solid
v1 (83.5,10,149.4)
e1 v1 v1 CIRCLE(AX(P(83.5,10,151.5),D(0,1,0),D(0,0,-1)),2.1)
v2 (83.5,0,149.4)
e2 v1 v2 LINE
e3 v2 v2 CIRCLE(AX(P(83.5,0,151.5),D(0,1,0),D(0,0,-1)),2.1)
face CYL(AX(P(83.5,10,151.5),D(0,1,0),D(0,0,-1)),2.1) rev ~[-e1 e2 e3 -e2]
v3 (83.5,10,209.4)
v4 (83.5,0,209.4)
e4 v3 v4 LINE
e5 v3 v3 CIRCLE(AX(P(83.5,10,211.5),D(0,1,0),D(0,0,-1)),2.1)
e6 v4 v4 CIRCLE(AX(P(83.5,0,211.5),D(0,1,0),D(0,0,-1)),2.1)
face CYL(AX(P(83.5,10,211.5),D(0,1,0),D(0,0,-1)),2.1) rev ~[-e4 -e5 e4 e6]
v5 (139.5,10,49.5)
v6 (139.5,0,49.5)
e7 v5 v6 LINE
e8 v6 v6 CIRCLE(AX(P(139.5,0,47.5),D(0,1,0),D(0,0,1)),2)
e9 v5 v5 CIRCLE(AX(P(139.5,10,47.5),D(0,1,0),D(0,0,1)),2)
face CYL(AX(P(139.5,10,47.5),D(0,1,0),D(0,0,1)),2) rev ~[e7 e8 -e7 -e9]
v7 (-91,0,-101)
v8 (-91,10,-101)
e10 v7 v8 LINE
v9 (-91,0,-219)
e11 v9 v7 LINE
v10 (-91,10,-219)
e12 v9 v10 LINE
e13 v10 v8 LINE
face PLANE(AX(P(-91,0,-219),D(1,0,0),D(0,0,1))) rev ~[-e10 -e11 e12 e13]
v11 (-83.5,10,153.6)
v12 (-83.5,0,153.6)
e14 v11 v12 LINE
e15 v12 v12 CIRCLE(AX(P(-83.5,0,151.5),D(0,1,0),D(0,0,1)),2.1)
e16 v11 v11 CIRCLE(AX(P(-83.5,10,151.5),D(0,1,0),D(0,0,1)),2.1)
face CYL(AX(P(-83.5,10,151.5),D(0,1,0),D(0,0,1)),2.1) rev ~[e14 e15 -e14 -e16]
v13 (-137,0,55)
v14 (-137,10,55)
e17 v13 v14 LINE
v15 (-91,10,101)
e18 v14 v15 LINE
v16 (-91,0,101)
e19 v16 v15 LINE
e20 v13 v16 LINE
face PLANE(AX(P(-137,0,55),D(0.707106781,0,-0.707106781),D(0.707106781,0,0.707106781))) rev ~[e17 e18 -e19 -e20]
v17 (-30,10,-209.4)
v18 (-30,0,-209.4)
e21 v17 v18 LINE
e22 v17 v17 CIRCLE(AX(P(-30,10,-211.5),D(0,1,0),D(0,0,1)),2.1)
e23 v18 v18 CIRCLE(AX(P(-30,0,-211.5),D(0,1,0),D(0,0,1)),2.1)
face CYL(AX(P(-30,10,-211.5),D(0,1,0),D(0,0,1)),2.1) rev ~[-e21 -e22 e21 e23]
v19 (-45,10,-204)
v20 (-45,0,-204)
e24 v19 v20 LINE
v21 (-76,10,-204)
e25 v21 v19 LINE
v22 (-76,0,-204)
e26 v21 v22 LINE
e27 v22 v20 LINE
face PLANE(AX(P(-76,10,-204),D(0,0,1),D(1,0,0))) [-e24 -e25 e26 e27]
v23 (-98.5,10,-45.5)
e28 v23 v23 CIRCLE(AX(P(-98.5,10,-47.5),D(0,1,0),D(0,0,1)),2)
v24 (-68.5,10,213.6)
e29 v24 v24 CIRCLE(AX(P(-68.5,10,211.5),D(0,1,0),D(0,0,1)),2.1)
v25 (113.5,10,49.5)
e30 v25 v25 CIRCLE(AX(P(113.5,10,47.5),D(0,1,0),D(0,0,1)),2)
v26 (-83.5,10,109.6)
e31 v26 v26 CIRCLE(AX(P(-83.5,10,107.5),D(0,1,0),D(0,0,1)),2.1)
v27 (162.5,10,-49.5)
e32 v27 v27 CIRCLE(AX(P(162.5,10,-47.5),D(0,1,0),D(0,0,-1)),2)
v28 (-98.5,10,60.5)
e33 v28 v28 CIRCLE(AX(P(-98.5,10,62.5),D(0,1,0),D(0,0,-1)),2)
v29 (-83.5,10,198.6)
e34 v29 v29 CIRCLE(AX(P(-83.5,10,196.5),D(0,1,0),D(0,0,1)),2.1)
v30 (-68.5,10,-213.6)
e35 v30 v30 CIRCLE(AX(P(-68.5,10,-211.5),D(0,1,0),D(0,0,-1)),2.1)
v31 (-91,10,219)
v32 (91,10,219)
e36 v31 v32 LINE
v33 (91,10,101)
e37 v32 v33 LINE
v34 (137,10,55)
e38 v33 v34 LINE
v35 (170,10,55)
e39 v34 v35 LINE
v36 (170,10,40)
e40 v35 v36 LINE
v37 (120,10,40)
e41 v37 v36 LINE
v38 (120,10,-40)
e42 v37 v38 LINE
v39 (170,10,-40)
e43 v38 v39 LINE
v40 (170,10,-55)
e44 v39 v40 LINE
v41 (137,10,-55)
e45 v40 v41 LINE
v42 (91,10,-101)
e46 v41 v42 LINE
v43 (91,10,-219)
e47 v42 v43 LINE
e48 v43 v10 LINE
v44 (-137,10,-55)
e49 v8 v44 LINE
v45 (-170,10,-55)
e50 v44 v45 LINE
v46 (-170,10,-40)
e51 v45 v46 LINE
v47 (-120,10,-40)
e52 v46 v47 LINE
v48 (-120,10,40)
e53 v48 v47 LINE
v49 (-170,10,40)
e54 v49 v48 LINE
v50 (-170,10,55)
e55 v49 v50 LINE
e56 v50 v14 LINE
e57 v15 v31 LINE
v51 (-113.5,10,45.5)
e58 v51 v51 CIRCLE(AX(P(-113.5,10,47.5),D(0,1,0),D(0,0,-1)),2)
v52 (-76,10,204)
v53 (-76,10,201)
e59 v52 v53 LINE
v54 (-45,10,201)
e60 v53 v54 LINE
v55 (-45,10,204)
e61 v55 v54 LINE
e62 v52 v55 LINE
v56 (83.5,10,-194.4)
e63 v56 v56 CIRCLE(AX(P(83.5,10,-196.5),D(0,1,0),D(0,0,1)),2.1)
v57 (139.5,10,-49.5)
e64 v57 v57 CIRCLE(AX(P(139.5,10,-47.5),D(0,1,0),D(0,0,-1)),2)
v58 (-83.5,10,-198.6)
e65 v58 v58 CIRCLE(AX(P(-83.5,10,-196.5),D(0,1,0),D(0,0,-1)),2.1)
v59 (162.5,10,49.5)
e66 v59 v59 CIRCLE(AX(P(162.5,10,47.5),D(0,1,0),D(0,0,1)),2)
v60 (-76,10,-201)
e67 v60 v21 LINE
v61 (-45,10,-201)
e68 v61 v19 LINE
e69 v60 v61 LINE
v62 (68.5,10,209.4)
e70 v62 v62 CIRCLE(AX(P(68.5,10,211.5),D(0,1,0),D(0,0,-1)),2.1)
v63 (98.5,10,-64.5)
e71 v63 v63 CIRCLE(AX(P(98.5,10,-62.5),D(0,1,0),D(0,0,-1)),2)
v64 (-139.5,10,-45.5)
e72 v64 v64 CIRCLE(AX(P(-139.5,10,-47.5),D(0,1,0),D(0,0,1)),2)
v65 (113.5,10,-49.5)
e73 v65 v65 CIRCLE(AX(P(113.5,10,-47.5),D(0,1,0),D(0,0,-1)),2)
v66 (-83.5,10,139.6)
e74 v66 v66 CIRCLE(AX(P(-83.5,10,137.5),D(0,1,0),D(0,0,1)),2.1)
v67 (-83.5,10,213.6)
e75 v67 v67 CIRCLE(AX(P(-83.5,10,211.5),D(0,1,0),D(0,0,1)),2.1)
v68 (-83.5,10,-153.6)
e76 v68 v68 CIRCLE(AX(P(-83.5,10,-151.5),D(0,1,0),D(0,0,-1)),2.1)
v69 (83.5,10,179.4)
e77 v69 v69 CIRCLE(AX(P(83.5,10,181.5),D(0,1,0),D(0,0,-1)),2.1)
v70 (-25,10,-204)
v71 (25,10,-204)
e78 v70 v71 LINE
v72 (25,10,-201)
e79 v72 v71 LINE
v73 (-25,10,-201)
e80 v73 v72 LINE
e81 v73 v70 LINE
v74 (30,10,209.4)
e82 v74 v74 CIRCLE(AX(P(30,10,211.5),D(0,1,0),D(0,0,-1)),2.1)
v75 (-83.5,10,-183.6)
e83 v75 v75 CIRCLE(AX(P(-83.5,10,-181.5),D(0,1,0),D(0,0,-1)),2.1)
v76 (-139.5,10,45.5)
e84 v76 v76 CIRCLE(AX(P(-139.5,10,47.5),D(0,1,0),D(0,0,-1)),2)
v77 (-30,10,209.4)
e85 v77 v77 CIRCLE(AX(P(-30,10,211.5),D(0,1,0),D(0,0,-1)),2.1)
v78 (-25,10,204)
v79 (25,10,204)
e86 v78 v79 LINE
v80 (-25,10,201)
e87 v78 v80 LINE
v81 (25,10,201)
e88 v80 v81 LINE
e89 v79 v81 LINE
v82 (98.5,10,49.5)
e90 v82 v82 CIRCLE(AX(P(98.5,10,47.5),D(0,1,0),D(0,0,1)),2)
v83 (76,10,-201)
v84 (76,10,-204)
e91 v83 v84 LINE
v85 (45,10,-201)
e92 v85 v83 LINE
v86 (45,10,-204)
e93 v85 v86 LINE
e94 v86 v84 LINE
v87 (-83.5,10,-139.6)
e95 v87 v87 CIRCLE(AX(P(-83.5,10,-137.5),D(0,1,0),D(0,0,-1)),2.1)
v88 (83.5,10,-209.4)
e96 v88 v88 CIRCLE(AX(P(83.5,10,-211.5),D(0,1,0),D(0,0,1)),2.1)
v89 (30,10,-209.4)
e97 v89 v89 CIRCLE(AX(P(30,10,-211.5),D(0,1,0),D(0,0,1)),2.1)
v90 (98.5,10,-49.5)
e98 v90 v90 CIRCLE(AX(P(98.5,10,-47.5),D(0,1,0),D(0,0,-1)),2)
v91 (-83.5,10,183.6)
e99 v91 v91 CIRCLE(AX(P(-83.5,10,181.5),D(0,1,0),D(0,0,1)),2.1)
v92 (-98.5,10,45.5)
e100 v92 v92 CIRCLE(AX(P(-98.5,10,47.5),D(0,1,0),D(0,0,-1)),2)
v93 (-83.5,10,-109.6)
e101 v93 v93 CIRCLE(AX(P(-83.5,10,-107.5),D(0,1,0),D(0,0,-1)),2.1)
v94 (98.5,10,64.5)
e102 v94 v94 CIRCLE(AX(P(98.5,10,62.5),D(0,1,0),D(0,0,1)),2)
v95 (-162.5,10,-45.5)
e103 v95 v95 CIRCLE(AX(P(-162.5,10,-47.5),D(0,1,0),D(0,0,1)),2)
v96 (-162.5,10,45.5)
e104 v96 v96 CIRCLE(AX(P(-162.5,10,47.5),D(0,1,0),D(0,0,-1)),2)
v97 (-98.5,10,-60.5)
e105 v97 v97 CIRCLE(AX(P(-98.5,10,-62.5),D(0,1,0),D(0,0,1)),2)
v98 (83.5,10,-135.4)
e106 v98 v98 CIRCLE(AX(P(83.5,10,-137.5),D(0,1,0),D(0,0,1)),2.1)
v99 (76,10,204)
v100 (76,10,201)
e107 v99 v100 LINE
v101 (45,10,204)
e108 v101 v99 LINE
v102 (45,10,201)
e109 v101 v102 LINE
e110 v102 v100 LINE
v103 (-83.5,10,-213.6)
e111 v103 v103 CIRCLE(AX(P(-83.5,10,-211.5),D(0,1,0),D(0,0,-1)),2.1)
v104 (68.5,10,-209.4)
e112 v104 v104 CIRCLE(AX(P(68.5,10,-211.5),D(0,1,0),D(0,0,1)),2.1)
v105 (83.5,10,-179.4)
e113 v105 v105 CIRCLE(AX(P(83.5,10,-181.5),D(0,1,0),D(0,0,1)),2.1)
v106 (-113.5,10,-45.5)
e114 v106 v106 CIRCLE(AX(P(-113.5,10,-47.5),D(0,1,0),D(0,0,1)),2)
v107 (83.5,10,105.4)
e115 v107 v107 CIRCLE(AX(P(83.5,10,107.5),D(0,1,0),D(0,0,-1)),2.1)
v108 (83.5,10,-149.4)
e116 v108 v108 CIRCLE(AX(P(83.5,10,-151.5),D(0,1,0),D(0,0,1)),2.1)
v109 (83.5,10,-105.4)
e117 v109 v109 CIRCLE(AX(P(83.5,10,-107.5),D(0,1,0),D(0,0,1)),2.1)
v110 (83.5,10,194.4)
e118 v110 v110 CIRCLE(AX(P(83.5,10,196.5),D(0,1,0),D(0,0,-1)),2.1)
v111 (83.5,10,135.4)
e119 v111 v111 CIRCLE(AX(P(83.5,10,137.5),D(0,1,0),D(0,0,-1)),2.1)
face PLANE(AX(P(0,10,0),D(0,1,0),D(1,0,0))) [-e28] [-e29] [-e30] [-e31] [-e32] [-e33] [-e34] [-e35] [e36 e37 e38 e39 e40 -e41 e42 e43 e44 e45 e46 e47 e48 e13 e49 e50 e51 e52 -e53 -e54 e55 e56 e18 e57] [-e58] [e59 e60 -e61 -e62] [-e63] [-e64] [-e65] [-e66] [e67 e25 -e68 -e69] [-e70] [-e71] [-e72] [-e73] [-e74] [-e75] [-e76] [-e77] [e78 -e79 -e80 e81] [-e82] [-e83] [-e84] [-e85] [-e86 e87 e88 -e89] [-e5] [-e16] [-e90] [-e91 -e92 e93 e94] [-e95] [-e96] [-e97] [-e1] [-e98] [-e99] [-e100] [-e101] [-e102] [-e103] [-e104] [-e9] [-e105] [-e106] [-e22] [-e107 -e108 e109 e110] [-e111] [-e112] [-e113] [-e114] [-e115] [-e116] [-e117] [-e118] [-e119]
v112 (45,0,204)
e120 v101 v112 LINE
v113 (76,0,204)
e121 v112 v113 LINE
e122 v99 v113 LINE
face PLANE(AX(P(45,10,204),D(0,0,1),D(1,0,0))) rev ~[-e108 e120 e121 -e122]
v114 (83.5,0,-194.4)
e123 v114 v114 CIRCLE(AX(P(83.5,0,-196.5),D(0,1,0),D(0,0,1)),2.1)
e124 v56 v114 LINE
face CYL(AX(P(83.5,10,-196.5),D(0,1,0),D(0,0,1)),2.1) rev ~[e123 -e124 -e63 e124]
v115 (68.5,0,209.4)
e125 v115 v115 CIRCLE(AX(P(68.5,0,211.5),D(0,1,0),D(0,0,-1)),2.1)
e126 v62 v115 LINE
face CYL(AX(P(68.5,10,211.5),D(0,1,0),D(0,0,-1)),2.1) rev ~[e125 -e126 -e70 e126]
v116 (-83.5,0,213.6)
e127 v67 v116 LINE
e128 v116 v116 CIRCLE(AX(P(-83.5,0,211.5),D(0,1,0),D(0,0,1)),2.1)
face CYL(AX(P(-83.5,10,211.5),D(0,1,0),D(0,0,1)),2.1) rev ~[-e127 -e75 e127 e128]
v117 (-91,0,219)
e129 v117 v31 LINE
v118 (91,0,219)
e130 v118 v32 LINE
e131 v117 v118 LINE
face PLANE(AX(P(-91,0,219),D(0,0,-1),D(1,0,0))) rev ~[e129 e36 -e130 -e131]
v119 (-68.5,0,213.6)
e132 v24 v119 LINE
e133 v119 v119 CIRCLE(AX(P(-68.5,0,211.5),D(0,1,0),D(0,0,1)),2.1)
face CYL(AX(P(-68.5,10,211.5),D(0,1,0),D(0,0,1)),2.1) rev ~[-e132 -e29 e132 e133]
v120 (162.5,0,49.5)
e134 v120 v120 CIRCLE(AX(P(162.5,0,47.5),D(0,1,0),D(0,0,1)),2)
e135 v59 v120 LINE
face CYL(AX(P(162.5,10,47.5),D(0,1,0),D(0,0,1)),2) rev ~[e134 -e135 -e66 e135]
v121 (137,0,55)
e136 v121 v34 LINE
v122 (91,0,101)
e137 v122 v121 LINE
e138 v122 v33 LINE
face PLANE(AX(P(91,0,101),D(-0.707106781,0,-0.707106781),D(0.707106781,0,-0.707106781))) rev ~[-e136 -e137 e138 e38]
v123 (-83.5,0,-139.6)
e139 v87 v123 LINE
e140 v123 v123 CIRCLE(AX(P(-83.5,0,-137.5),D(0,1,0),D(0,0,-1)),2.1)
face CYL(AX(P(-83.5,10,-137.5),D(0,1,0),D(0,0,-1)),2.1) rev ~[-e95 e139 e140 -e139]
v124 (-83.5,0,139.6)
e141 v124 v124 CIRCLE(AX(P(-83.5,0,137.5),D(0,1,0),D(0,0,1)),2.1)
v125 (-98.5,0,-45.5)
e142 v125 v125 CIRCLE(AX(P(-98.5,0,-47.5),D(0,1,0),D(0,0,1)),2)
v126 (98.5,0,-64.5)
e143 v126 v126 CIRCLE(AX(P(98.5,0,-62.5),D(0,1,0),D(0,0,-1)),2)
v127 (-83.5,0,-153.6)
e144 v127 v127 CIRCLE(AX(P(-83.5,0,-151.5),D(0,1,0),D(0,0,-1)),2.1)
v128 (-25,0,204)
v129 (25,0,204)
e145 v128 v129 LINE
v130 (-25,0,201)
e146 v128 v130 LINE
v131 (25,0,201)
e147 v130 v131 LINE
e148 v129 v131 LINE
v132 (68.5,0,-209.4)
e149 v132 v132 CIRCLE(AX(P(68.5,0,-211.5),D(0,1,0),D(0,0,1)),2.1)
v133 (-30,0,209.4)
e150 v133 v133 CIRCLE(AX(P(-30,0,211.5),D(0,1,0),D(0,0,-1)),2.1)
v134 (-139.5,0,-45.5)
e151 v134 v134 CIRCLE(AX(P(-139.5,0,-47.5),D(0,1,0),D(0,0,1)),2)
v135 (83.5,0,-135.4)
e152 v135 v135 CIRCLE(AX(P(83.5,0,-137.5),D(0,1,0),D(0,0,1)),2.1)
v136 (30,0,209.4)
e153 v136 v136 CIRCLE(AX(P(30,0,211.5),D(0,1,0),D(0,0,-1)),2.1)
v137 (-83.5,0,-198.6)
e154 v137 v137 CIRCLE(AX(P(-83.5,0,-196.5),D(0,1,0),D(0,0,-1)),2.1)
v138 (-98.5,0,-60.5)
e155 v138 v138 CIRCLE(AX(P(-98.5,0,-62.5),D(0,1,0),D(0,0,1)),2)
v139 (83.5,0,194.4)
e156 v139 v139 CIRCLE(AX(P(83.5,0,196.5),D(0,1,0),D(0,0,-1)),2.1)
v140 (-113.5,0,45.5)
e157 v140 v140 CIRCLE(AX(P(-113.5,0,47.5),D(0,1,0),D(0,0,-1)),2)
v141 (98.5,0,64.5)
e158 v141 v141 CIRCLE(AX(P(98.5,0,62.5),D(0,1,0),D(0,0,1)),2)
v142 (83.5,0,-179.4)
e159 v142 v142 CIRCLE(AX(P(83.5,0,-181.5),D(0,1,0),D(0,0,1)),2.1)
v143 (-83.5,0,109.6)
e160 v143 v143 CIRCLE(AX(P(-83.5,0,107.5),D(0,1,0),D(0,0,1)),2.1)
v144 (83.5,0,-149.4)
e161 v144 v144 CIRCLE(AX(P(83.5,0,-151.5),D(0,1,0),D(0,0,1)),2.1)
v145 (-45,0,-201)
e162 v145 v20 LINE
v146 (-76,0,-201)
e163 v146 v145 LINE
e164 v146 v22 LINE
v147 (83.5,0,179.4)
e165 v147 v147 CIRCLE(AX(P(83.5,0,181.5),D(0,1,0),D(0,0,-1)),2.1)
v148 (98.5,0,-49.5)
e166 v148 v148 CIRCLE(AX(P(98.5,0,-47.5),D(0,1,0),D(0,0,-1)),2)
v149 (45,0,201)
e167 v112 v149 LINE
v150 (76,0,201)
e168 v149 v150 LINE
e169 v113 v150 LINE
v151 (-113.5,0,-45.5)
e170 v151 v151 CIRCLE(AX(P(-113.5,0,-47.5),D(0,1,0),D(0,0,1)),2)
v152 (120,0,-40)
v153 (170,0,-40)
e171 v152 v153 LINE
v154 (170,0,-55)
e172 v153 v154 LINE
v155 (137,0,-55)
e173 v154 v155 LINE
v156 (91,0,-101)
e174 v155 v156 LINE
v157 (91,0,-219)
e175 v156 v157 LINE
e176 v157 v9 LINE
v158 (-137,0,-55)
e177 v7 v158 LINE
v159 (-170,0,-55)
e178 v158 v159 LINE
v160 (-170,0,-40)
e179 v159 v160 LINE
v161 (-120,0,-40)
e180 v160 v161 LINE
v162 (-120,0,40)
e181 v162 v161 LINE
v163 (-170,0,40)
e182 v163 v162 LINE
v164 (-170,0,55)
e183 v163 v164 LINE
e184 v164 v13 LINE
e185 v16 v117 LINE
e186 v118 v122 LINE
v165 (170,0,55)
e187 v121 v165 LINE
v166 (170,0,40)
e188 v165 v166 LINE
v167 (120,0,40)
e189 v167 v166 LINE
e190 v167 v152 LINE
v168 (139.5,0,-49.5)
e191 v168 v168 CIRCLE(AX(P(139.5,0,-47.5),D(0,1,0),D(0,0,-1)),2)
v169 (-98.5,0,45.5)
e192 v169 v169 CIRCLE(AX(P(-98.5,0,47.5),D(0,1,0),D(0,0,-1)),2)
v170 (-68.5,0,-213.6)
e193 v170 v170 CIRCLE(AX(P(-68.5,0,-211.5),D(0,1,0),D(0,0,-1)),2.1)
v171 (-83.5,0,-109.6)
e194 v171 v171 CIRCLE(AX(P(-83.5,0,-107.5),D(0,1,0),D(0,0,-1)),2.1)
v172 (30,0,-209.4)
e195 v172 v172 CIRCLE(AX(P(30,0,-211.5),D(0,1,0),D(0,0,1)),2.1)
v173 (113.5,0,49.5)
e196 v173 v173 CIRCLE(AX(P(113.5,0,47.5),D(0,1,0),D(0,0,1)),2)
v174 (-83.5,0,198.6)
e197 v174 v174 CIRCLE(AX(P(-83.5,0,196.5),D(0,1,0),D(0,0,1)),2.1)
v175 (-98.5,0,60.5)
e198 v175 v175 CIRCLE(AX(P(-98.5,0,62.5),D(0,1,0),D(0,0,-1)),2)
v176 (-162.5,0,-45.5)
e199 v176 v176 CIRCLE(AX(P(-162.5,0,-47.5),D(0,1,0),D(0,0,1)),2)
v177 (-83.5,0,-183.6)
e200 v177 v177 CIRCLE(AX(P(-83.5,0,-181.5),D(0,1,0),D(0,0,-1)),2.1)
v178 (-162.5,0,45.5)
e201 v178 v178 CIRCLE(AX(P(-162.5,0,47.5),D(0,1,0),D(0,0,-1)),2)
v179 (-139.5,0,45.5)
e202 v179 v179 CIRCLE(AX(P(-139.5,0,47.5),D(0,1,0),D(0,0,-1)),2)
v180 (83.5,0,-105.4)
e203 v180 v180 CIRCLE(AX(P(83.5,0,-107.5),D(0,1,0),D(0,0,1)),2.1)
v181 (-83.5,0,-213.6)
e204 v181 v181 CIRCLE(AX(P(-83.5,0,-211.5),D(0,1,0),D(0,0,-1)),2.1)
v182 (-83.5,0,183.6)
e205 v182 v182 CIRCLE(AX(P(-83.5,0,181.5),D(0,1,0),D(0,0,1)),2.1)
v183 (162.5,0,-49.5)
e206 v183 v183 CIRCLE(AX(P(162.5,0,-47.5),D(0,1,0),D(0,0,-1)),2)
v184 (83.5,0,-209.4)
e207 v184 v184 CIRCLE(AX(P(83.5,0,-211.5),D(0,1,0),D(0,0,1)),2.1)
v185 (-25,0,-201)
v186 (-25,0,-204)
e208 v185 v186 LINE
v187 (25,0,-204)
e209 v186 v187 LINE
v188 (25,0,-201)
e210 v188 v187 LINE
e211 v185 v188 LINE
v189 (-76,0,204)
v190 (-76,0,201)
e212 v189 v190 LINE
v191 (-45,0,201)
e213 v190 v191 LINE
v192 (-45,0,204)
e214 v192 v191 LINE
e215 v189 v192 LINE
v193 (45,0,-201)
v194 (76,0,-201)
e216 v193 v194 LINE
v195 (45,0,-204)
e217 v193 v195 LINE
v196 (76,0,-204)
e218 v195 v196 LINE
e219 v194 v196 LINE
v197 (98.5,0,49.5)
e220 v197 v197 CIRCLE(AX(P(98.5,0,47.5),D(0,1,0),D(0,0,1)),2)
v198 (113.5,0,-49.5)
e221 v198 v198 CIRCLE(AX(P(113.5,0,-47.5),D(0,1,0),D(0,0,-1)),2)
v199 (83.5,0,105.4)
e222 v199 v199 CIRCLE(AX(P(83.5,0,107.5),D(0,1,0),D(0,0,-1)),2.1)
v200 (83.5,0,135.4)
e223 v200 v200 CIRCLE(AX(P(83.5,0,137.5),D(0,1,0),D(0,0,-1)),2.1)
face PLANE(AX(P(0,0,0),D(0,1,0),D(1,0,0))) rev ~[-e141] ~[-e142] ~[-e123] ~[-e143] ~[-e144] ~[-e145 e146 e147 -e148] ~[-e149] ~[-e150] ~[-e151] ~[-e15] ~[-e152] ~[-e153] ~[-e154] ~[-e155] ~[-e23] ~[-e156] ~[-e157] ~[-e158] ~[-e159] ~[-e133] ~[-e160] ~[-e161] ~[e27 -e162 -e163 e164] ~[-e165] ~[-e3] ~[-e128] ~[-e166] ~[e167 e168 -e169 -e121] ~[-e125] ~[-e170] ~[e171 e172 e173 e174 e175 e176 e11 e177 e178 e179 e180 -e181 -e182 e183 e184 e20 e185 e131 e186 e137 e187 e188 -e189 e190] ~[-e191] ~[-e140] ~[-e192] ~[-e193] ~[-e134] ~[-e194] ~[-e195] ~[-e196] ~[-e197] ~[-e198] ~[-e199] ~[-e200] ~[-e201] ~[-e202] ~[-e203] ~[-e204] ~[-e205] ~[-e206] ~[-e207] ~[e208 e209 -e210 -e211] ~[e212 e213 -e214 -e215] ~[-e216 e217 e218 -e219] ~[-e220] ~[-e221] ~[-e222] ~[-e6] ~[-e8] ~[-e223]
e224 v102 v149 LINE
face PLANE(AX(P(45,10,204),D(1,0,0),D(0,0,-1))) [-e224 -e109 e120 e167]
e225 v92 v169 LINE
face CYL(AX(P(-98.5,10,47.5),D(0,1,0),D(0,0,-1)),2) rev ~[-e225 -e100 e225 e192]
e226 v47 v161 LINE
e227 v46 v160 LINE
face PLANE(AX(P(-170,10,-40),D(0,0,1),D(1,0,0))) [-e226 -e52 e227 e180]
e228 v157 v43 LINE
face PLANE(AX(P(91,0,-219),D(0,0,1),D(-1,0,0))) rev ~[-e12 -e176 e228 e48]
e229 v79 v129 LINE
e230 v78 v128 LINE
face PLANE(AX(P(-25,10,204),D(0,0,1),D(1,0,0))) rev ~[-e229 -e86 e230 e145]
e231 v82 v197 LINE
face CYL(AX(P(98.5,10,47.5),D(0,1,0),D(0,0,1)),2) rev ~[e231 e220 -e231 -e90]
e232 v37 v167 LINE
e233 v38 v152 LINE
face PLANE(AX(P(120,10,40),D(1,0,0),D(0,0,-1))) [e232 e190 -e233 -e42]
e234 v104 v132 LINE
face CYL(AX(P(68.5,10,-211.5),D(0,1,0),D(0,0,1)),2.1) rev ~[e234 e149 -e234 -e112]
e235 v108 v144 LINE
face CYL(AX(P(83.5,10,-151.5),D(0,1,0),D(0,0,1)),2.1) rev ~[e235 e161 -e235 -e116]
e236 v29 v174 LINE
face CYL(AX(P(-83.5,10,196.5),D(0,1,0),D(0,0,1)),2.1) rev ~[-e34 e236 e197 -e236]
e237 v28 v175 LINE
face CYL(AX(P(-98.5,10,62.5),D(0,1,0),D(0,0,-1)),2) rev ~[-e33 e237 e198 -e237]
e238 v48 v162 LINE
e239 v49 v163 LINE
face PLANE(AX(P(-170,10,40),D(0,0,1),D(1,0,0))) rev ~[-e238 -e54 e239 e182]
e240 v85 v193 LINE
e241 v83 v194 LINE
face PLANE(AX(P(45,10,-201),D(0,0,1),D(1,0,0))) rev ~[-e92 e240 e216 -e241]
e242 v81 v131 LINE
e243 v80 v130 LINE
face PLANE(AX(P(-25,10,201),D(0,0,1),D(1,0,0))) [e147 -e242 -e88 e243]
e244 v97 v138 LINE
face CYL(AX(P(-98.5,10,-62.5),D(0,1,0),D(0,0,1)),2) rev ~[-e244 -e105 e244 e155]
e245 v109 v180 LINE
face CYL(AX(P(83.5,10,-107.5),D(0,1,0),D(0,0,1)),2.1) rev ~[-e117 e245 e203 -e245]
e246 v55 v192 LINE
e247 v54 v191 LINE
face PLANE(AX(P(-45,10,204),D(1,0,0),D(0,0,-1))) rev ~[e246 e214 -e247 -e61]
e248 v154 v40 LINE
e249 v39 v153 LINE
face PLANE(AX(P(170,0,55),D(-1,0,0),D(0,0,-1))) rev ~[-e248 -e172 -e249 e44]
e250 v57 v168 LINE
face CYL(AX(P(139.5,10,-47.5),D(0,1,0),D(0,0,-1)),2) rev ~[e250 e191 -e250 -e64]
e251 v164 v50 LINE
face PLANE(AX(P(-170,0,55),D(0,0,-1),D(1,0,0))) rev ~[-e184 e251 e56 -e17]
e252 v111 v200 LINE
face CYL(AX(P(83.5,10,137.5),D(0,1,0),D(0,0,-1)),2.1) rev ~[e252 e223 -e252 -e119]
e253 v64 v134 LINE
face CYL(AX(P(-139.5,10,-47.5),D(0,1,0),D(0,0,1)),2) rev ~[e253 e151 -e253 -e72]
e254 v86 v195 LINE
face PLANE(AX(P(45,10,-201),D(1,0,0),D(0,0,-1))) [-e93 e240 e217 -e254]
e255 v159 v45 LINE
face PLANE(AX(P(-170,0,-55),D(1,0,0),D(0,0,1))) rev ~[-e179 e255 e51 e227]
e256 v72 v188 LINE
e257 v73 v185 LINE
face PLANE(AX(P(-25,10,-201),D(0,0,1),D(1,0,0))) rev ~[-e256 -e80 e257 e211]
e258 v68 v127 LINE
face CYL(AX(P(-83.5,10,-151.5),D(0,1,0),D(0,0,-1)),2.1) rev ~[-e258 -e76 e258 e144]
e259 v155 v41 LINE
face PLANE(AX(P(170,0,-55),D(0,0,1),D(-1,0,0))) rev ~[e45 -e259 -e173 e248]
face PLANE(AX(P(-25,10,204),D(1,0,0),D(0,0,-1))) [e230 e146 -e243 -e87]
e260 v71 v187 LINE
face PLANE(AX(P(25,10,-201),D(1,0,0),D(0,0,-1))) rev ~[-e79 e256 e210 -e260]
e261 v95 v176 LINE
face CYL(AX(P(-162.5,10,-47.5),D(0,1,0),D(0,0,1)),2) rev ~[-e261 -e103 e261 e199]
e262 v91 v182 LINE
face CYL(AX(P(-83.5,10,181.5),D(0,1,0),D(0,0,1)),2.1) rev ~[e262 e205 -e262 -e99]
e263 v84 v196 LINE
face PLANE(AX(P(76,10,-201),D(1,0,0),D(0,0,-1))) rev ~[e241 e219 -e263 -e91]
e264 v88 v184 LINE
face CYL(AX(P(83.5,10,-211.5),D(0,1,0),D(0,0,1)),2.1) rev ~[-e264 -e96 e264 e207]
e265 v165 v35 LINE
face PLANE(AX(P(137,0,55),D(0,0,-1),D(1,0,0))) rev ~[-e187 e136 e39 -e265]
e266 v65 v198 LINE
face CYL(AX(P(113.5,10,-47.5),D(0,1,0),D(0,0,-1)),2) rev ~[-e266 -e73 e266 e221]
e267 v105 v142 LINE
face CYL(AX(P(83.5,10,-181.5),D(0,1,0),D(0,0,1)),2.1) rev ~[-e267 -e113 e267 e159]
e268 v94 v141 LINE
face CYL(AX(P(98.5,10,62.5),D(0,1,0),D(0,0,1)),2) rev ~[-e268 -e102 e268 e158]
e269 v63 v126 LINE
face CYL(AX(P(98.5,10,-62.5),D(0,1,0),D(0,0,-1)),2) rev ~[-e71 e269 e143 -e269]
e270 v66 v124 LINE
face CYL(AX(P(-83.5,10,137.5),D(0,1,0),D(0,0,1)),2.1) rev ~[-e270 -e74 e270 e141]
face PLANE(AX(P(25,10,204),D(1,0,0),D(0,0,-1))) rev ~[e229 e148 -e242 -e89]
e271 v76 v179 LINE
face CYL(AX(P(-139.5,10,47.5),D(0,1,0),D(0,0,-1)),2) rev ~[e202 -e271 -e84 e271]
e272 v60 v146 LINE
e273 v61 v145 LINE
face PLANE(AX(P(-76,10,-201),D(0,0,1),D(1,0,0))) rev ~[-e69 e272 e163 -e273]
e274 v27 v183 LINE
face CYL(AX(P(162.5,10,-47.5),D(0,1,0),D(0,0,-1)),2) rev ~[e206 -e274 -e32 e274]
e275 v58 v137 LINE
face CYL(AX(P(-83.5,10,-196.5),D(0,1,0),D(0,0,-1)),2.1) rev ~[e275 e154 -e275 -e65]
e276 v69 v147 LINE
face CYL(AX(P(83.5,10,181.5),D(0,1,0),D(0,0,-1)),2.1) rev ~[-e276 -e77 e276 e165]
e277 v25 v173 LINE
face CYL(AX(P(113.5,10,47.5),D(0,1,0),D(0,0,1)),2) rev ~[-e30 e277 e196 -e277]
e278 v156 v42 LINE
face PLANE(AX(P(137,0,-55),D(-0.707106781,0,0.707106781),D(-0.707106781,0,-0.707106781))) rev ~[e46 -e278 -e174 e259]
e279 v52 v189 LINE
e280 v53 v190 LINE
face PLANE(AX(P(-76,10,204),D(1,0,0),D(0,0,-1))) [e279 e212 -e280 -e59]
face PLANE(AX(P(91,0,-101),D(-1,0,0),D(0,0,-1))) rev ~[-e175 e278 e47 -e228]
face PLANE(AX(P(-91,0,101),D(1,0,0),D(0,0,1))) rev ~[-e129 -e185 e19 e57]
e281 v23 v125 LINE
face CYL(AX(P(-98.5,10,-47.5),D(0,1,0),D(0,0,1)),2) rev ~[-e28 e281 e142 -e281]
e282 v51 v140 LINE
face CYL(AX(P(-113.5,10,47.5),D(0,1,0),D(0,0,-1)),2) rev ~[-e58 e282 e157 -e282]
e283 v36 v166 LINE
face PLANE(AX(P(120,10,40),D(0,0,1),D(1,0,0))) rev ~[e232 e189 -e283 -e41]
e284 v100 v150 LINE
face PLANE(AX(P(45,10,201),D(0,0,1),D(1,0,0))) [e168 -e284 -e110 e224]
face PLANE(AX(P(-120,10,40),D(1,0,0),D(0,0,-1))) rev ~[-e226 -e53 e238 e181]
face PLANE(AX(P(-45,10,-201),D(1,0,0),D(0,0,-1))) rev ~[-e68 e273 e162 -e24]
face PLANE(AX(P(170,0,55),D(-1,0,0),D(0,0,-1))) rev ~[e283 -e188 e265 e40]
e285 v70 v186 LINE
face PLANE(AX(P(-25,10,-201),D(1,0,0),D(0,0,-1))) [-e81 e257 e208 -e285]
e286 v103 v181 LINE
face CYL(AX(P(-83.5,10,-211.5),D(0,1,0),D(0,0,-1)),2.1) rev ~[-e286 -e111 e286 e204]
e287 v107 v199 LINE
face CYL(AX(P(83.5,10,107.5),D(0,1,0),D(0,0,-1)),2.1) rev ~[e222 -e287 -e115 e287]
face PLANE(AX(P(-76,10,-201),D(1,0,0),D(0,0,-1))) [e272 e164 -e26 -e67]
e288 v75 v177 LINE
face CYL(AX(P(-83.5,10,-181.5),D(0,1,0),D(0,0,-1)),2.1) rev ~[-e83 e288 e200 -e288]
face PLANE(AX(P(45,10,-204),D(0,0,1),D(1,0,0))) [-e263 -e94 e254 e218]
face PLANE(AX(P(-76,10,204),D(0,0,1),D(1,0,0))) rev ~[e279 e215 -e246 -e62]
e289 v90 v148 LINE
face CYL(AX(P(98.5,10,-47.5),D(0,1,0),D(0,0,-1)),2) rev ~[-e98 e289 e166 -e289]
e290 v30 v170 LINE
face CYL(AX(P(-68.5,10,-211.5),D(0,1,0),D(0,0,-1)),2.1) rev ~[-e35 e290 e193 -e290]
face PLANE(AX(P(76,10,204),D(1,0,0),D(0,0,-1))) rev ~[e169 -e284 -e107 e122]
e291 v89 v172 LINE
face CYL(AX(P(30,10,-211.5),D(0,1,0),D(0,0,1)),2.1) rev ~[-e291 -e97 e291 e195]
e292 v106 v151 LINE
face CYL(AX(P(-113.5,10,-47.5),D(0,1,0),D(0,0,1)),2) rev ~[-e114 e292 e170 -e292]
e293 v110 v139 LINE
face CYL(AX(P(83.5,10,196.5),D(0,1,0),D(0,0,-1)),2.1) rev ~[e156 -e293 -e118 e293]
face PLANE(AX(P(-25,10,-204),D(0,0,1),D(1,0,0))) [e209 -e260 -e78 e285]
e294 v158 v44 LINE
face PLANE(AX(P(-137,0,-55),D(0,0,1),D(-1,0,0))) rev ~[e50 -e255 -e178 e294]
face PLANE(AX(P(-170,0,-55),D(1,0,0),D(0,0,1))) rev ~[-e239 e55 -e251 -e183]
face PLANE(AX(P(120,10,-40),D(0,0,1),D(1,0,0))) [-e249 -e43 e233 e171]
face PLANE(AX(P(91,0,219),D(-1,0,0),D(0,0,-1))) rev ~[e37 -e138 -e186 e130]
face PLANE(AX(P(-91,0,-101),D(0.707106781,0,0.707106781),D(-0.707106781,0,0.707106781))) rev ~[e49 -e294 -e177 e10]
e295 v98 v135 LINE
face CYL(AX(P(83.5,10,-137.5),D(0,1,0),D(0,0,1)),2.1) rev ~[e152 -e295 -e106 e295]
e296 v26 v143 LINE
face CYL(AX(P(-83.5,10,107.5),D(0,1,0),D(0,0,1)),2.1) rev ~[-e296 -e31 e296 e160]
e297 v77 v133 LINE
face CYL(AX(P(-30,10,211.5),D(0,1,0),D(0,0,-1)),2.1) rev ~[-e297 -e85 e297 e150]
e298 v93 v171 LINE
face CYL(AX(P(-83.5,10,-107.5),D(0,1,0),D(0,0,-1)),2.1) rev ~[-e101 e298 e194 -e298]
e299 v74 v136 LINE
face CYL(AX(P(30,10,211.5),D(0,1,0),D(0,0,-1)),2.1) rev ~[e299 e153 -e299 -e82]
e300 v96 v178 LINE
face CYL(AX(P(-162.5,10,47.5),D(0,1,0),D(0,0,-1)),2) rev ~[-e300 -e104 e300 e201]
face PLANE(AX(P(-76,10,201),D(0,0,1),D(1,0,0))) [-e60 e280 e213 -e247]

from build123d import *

# Parameters (mm, degrees)
BOSS_EXTRUDE1_DEPTH = 10
SKETCH2_R           = 2
SKETCH2_W           = 50
SKETCH2_H           = 80
CUT_EXTRUDE1_DEPTH  = 278.418456488
SKETCH3_R           = 2.1
SKETCH3_W           = 50
SKETCH3_H           = 3
SKETCH3_W_2         = 31
CUT_EXTRUDE2_DEPTH  = 278.418456488


with BuildPart() as part:
    # Sketch1 → Boss-Extrude1 (new body)
    with BuildSketch(Plane(origin=(0, 0, 0), x_dir=(1, 0, 0), z_dir=(0, 1, 0))):
        Polygon((-91, -219), (91, -219), (91, -101), (137, -55), (170, -55), (170, 55), (137, 55), (91, 101), (91, 219), (-91, 219), (-91, 101), (-137, 55), (-170, 55), (-170, -55), (-137, -55), (-91, -101), align=None)
    extrude(amount=BOSS_EXTRUDE1_DEPTH)

    # Sketch2 → Cut-Extrude1 (cut, through all)
    with BuildSketch(Plane(origin=(0, 10, 0), x_dir=(1, 0, 0), z_dir=(0, 1, 0))):
        with Locations(Location((-162.5, 47.5, 0), (0, 0, 270))):
            Circle(SKETCH2_R)
        with Locations(Location((-139.5, 47.5, 0), (0, 0, 270))):
            Circle(SKETCH2_R)
        with Locations(Location((-139.5, -47.5, 0), (0, 0, 90))):
            Circle(SKETCH2_R)
        with Locations(Location((-162.5, -47.5, 0), (0, 0, 90))):
            Circle(SKETCH2_R)
        with Locations(Location((-113.5, 47.5, 0), (0, 0, 270))):
            Circle(SKETCH2_R)
        with Locations(Location((-98.5, 47.5, 0), (0, 0, 270))):
            Circle(SKETCH2_R)
        with Locations(Location((-98.5, 62.5, 0), (0, 0, 270))):
            Circle(SKETCH2_R)
        with Locations(Location((-98.5, -62.5, 0), (0, 0, 90))):
            Circle(SKETCH2_R)
        with Locations(Location((-98.5, -47.5, 0), (0, 0, 90))):
            Circle(SKETCH2_R)
        with Locations(Location((-113.5, -47.5, 0), (0, 0, 90))):
            Circle(SKETCH2_R)
        with Locations(Location((113.5, -47.5, 0), (0, 0, 270))):
            Circle(SKETCH2_R)
        with Locations(Location((98.5, -47.5, 0), (0, 0, 270))):
            Circle(SKETCH2_R)
        with Locations(Location((98.5, -62.5, 0), (0, 0, 270))):
            Circle(SKETCH2_R)
        with Locations(Location((98.5, 62.5, 0), (0, 0, 90))):
            Circle(SKETCH2_R)
        with Locations(Location((98.5, 47.5, 0), (0, 0, 90))):
            Circle(SKETCH2_R)
        with Locations(Location((113.5, 47.5, 0), (0, 0, 90))):
            Circle(SKETCH2_R)
        with Locations(Location((162.5, -47.5, 0), (0, 0, 270))):
            Circle(SKETCH2_R)
        with Locations(Location((139.5, -47.5, 0), (0, 0, 270))):
            Circle(SKETCH2_R)
        with Locations(Location((139.5, 47.5, 0), (0, 0, 90))):
            Circle(SKETCH2_R)
        with Locations(Location((162.5, 47.5, 0), (0, 0, 90))):
            Circle(SKETCH2_R)
        with Locations((-145, 0)):
            Rectangle(SKETCH2_W, SKETCH2_H)
        with Locations((145, 0)):
            Rectangle(SKETCH2_W, SKETCH2_H)
    extrude(amount=-CUT_EXTRUDE1_DEPTH, mode=Mode.SUBTRACT)

    # Sketch3 → Cut-Extrude2 (cut, through all)
    with BuildSketch(Plane(origin=(0, 10, 0), x_dir=(1, 0, 0), z_dir=(0, 1, 0))):
        with Locations(Location((-30, 211.5, 0), (0, 0, 270))):
            Circle(SKETCH3_R)
        with Locations(Location((30, 211.5, 0), (0, 0, 270))):
            Circle(SKETCH3_R)
        with Locations(Location((68.5, 211.5, 0), (0, 0, 270))):
            Circle(SKETCH3_R)
        with Locations(Location((83.5, 211.5, 0), (0, 0, 270))):
            Circle(SKETCH3_R)
        with Locations(Location((83.5, 196.5, 0), (0, 0, 270))):
            Circle(SKETCH3_R)
        with Locations(Location((83.5, 181.5, 0), (0, 0, 270))):
            Circle(SKETCH3_R)
        with Locations(Location((83.5, 151.5, 0), (0, 0, 270))):
            Circle(SKETCH3_R)
        with Locations(Location((83.5, 137.5, 0), (0, 0, 270))):
            Circle(SKETCH3_R)
        with Locations(Location((83.5, 107.5, 0), (0, 0, 270))):
            Circle(SKETCH3_R)
        with Locations(Location((-83.5, 107.5, 0), (0, 0, 90))):
            Circle(SKETCH3_R)
        with Locations(Location((-83.5, 137.5, 0), (0, 0, 90))):
            Circle(SKETCH3_R)
        with Locations(Location((-83.5, 151.5, 0), (0, 0, 90))):
            Circle(SKETCH3_R)
        with Locations(Location((-83.5, 181.5, 0), (0, 0, 90))):
            Circle(SKETCH3_R)
        with Locations(Location((-83.5, 196.5, 0), (0, 0, 90))):
            Circle(SKETCH3_R)
        with Locations(Location((-83.5, 211.5, 0), (0, 0, 90))):
            Circle(SKETCH3_R)
        with Locations(Location((-68.5, 211.5, 0), (0, 0, 90))):
            Circle(SKETCH3_R)
        with Locations(Location((-68.5, -211.5, 0), (0, 0, 270))):
            Circle(SKETCH3_R)
        with Locations(Location((-83.5, -211.5, 0), (0, 0, 270))):
            Circle(SKETCH3_R)
        with Locations(Location((-83.5, -196.5, 0), (0, 0, 270))):
            Circle(SKETCH3_R)
        with Locations(Location((-83.5, -181.5, 0), (0, 0, 270))):
            Circle(SKETCH3_R)
        with Locations(Location((-83.5, -151.5, 0), (0, 0, 270))):
            Circle(SKETCH3_R)
        with Locations(Location((-83.5, -137.5, 0), (0, 0, 270))):
            Circle(SKETCH3_R)
        with Locations(Location((-83.5, -107.5, 0), (0, 0, 270))):
            Circle(SKETCH3_R)
        with Locations(Location((83.5, -107.5, 0), (0, 0, 90))):
            Circle(SKETCH3_R)
        with Locations(Location((83.5, -137.5, 0), (0, 0, 90))):
            Circle(SKETCH3_R)
        with Locations(Location((83.5, -151.5, 0), (0, 0, 90))):
            Circle(SKETCH3_R)
        with Locations(Location((83.5, -181.5, 0), (0, 0, 90))):
            Circle(SKETCH3_R)
        with Locations(Location((83.5, -196.5, 0), (0, 0, 90))):
            Circle(SKETCH3_R)
        with Locations(Location((83.5, -211.5, 0), (0, 0, 90))):
            Circle(SKETCH3_R)
        with Locations(Location((68.5, -211.5, 0), (0, 0, 90))):
            Circle(SKETCH3_R)
        with Locations(Location((30, -211.5, 0), (0, 0, 90))):
            Circle(SKETCH3_R)
        with Locations(Location((-30, -211.5, 0), (0, 0, 90))):
            Circle(SKETCH3_R)
        with Locations((0, 202.5)):
            Rectangle(SKETCH3_W, SKETCH3_H)
        with Locations((60.5, 202.5)):
            Rectangle(SKETCH3_W_2, SKETCH3_H)
        with Locations((-60.5, 202.5)):
            Rectangle(SKETCH3_W_2, SKETCH3_H)
        with Locations((-60.5, -202.5)):
            Rectangle(SKETCH3_W_2, SKETCH3_H)
        with Locations((60.5, -202.5)):
            Rectangle(SKETCH3_W_2, SKETCH3_H)
        with Locations((0, -202.5)):
            Rectangle(SKETCH3_W, SKETCH3_H)
    extrude(amount=-CUT_EXTRUDE2_DEPTH, mode=Mode.SUBTRACT)


solid = part.part
